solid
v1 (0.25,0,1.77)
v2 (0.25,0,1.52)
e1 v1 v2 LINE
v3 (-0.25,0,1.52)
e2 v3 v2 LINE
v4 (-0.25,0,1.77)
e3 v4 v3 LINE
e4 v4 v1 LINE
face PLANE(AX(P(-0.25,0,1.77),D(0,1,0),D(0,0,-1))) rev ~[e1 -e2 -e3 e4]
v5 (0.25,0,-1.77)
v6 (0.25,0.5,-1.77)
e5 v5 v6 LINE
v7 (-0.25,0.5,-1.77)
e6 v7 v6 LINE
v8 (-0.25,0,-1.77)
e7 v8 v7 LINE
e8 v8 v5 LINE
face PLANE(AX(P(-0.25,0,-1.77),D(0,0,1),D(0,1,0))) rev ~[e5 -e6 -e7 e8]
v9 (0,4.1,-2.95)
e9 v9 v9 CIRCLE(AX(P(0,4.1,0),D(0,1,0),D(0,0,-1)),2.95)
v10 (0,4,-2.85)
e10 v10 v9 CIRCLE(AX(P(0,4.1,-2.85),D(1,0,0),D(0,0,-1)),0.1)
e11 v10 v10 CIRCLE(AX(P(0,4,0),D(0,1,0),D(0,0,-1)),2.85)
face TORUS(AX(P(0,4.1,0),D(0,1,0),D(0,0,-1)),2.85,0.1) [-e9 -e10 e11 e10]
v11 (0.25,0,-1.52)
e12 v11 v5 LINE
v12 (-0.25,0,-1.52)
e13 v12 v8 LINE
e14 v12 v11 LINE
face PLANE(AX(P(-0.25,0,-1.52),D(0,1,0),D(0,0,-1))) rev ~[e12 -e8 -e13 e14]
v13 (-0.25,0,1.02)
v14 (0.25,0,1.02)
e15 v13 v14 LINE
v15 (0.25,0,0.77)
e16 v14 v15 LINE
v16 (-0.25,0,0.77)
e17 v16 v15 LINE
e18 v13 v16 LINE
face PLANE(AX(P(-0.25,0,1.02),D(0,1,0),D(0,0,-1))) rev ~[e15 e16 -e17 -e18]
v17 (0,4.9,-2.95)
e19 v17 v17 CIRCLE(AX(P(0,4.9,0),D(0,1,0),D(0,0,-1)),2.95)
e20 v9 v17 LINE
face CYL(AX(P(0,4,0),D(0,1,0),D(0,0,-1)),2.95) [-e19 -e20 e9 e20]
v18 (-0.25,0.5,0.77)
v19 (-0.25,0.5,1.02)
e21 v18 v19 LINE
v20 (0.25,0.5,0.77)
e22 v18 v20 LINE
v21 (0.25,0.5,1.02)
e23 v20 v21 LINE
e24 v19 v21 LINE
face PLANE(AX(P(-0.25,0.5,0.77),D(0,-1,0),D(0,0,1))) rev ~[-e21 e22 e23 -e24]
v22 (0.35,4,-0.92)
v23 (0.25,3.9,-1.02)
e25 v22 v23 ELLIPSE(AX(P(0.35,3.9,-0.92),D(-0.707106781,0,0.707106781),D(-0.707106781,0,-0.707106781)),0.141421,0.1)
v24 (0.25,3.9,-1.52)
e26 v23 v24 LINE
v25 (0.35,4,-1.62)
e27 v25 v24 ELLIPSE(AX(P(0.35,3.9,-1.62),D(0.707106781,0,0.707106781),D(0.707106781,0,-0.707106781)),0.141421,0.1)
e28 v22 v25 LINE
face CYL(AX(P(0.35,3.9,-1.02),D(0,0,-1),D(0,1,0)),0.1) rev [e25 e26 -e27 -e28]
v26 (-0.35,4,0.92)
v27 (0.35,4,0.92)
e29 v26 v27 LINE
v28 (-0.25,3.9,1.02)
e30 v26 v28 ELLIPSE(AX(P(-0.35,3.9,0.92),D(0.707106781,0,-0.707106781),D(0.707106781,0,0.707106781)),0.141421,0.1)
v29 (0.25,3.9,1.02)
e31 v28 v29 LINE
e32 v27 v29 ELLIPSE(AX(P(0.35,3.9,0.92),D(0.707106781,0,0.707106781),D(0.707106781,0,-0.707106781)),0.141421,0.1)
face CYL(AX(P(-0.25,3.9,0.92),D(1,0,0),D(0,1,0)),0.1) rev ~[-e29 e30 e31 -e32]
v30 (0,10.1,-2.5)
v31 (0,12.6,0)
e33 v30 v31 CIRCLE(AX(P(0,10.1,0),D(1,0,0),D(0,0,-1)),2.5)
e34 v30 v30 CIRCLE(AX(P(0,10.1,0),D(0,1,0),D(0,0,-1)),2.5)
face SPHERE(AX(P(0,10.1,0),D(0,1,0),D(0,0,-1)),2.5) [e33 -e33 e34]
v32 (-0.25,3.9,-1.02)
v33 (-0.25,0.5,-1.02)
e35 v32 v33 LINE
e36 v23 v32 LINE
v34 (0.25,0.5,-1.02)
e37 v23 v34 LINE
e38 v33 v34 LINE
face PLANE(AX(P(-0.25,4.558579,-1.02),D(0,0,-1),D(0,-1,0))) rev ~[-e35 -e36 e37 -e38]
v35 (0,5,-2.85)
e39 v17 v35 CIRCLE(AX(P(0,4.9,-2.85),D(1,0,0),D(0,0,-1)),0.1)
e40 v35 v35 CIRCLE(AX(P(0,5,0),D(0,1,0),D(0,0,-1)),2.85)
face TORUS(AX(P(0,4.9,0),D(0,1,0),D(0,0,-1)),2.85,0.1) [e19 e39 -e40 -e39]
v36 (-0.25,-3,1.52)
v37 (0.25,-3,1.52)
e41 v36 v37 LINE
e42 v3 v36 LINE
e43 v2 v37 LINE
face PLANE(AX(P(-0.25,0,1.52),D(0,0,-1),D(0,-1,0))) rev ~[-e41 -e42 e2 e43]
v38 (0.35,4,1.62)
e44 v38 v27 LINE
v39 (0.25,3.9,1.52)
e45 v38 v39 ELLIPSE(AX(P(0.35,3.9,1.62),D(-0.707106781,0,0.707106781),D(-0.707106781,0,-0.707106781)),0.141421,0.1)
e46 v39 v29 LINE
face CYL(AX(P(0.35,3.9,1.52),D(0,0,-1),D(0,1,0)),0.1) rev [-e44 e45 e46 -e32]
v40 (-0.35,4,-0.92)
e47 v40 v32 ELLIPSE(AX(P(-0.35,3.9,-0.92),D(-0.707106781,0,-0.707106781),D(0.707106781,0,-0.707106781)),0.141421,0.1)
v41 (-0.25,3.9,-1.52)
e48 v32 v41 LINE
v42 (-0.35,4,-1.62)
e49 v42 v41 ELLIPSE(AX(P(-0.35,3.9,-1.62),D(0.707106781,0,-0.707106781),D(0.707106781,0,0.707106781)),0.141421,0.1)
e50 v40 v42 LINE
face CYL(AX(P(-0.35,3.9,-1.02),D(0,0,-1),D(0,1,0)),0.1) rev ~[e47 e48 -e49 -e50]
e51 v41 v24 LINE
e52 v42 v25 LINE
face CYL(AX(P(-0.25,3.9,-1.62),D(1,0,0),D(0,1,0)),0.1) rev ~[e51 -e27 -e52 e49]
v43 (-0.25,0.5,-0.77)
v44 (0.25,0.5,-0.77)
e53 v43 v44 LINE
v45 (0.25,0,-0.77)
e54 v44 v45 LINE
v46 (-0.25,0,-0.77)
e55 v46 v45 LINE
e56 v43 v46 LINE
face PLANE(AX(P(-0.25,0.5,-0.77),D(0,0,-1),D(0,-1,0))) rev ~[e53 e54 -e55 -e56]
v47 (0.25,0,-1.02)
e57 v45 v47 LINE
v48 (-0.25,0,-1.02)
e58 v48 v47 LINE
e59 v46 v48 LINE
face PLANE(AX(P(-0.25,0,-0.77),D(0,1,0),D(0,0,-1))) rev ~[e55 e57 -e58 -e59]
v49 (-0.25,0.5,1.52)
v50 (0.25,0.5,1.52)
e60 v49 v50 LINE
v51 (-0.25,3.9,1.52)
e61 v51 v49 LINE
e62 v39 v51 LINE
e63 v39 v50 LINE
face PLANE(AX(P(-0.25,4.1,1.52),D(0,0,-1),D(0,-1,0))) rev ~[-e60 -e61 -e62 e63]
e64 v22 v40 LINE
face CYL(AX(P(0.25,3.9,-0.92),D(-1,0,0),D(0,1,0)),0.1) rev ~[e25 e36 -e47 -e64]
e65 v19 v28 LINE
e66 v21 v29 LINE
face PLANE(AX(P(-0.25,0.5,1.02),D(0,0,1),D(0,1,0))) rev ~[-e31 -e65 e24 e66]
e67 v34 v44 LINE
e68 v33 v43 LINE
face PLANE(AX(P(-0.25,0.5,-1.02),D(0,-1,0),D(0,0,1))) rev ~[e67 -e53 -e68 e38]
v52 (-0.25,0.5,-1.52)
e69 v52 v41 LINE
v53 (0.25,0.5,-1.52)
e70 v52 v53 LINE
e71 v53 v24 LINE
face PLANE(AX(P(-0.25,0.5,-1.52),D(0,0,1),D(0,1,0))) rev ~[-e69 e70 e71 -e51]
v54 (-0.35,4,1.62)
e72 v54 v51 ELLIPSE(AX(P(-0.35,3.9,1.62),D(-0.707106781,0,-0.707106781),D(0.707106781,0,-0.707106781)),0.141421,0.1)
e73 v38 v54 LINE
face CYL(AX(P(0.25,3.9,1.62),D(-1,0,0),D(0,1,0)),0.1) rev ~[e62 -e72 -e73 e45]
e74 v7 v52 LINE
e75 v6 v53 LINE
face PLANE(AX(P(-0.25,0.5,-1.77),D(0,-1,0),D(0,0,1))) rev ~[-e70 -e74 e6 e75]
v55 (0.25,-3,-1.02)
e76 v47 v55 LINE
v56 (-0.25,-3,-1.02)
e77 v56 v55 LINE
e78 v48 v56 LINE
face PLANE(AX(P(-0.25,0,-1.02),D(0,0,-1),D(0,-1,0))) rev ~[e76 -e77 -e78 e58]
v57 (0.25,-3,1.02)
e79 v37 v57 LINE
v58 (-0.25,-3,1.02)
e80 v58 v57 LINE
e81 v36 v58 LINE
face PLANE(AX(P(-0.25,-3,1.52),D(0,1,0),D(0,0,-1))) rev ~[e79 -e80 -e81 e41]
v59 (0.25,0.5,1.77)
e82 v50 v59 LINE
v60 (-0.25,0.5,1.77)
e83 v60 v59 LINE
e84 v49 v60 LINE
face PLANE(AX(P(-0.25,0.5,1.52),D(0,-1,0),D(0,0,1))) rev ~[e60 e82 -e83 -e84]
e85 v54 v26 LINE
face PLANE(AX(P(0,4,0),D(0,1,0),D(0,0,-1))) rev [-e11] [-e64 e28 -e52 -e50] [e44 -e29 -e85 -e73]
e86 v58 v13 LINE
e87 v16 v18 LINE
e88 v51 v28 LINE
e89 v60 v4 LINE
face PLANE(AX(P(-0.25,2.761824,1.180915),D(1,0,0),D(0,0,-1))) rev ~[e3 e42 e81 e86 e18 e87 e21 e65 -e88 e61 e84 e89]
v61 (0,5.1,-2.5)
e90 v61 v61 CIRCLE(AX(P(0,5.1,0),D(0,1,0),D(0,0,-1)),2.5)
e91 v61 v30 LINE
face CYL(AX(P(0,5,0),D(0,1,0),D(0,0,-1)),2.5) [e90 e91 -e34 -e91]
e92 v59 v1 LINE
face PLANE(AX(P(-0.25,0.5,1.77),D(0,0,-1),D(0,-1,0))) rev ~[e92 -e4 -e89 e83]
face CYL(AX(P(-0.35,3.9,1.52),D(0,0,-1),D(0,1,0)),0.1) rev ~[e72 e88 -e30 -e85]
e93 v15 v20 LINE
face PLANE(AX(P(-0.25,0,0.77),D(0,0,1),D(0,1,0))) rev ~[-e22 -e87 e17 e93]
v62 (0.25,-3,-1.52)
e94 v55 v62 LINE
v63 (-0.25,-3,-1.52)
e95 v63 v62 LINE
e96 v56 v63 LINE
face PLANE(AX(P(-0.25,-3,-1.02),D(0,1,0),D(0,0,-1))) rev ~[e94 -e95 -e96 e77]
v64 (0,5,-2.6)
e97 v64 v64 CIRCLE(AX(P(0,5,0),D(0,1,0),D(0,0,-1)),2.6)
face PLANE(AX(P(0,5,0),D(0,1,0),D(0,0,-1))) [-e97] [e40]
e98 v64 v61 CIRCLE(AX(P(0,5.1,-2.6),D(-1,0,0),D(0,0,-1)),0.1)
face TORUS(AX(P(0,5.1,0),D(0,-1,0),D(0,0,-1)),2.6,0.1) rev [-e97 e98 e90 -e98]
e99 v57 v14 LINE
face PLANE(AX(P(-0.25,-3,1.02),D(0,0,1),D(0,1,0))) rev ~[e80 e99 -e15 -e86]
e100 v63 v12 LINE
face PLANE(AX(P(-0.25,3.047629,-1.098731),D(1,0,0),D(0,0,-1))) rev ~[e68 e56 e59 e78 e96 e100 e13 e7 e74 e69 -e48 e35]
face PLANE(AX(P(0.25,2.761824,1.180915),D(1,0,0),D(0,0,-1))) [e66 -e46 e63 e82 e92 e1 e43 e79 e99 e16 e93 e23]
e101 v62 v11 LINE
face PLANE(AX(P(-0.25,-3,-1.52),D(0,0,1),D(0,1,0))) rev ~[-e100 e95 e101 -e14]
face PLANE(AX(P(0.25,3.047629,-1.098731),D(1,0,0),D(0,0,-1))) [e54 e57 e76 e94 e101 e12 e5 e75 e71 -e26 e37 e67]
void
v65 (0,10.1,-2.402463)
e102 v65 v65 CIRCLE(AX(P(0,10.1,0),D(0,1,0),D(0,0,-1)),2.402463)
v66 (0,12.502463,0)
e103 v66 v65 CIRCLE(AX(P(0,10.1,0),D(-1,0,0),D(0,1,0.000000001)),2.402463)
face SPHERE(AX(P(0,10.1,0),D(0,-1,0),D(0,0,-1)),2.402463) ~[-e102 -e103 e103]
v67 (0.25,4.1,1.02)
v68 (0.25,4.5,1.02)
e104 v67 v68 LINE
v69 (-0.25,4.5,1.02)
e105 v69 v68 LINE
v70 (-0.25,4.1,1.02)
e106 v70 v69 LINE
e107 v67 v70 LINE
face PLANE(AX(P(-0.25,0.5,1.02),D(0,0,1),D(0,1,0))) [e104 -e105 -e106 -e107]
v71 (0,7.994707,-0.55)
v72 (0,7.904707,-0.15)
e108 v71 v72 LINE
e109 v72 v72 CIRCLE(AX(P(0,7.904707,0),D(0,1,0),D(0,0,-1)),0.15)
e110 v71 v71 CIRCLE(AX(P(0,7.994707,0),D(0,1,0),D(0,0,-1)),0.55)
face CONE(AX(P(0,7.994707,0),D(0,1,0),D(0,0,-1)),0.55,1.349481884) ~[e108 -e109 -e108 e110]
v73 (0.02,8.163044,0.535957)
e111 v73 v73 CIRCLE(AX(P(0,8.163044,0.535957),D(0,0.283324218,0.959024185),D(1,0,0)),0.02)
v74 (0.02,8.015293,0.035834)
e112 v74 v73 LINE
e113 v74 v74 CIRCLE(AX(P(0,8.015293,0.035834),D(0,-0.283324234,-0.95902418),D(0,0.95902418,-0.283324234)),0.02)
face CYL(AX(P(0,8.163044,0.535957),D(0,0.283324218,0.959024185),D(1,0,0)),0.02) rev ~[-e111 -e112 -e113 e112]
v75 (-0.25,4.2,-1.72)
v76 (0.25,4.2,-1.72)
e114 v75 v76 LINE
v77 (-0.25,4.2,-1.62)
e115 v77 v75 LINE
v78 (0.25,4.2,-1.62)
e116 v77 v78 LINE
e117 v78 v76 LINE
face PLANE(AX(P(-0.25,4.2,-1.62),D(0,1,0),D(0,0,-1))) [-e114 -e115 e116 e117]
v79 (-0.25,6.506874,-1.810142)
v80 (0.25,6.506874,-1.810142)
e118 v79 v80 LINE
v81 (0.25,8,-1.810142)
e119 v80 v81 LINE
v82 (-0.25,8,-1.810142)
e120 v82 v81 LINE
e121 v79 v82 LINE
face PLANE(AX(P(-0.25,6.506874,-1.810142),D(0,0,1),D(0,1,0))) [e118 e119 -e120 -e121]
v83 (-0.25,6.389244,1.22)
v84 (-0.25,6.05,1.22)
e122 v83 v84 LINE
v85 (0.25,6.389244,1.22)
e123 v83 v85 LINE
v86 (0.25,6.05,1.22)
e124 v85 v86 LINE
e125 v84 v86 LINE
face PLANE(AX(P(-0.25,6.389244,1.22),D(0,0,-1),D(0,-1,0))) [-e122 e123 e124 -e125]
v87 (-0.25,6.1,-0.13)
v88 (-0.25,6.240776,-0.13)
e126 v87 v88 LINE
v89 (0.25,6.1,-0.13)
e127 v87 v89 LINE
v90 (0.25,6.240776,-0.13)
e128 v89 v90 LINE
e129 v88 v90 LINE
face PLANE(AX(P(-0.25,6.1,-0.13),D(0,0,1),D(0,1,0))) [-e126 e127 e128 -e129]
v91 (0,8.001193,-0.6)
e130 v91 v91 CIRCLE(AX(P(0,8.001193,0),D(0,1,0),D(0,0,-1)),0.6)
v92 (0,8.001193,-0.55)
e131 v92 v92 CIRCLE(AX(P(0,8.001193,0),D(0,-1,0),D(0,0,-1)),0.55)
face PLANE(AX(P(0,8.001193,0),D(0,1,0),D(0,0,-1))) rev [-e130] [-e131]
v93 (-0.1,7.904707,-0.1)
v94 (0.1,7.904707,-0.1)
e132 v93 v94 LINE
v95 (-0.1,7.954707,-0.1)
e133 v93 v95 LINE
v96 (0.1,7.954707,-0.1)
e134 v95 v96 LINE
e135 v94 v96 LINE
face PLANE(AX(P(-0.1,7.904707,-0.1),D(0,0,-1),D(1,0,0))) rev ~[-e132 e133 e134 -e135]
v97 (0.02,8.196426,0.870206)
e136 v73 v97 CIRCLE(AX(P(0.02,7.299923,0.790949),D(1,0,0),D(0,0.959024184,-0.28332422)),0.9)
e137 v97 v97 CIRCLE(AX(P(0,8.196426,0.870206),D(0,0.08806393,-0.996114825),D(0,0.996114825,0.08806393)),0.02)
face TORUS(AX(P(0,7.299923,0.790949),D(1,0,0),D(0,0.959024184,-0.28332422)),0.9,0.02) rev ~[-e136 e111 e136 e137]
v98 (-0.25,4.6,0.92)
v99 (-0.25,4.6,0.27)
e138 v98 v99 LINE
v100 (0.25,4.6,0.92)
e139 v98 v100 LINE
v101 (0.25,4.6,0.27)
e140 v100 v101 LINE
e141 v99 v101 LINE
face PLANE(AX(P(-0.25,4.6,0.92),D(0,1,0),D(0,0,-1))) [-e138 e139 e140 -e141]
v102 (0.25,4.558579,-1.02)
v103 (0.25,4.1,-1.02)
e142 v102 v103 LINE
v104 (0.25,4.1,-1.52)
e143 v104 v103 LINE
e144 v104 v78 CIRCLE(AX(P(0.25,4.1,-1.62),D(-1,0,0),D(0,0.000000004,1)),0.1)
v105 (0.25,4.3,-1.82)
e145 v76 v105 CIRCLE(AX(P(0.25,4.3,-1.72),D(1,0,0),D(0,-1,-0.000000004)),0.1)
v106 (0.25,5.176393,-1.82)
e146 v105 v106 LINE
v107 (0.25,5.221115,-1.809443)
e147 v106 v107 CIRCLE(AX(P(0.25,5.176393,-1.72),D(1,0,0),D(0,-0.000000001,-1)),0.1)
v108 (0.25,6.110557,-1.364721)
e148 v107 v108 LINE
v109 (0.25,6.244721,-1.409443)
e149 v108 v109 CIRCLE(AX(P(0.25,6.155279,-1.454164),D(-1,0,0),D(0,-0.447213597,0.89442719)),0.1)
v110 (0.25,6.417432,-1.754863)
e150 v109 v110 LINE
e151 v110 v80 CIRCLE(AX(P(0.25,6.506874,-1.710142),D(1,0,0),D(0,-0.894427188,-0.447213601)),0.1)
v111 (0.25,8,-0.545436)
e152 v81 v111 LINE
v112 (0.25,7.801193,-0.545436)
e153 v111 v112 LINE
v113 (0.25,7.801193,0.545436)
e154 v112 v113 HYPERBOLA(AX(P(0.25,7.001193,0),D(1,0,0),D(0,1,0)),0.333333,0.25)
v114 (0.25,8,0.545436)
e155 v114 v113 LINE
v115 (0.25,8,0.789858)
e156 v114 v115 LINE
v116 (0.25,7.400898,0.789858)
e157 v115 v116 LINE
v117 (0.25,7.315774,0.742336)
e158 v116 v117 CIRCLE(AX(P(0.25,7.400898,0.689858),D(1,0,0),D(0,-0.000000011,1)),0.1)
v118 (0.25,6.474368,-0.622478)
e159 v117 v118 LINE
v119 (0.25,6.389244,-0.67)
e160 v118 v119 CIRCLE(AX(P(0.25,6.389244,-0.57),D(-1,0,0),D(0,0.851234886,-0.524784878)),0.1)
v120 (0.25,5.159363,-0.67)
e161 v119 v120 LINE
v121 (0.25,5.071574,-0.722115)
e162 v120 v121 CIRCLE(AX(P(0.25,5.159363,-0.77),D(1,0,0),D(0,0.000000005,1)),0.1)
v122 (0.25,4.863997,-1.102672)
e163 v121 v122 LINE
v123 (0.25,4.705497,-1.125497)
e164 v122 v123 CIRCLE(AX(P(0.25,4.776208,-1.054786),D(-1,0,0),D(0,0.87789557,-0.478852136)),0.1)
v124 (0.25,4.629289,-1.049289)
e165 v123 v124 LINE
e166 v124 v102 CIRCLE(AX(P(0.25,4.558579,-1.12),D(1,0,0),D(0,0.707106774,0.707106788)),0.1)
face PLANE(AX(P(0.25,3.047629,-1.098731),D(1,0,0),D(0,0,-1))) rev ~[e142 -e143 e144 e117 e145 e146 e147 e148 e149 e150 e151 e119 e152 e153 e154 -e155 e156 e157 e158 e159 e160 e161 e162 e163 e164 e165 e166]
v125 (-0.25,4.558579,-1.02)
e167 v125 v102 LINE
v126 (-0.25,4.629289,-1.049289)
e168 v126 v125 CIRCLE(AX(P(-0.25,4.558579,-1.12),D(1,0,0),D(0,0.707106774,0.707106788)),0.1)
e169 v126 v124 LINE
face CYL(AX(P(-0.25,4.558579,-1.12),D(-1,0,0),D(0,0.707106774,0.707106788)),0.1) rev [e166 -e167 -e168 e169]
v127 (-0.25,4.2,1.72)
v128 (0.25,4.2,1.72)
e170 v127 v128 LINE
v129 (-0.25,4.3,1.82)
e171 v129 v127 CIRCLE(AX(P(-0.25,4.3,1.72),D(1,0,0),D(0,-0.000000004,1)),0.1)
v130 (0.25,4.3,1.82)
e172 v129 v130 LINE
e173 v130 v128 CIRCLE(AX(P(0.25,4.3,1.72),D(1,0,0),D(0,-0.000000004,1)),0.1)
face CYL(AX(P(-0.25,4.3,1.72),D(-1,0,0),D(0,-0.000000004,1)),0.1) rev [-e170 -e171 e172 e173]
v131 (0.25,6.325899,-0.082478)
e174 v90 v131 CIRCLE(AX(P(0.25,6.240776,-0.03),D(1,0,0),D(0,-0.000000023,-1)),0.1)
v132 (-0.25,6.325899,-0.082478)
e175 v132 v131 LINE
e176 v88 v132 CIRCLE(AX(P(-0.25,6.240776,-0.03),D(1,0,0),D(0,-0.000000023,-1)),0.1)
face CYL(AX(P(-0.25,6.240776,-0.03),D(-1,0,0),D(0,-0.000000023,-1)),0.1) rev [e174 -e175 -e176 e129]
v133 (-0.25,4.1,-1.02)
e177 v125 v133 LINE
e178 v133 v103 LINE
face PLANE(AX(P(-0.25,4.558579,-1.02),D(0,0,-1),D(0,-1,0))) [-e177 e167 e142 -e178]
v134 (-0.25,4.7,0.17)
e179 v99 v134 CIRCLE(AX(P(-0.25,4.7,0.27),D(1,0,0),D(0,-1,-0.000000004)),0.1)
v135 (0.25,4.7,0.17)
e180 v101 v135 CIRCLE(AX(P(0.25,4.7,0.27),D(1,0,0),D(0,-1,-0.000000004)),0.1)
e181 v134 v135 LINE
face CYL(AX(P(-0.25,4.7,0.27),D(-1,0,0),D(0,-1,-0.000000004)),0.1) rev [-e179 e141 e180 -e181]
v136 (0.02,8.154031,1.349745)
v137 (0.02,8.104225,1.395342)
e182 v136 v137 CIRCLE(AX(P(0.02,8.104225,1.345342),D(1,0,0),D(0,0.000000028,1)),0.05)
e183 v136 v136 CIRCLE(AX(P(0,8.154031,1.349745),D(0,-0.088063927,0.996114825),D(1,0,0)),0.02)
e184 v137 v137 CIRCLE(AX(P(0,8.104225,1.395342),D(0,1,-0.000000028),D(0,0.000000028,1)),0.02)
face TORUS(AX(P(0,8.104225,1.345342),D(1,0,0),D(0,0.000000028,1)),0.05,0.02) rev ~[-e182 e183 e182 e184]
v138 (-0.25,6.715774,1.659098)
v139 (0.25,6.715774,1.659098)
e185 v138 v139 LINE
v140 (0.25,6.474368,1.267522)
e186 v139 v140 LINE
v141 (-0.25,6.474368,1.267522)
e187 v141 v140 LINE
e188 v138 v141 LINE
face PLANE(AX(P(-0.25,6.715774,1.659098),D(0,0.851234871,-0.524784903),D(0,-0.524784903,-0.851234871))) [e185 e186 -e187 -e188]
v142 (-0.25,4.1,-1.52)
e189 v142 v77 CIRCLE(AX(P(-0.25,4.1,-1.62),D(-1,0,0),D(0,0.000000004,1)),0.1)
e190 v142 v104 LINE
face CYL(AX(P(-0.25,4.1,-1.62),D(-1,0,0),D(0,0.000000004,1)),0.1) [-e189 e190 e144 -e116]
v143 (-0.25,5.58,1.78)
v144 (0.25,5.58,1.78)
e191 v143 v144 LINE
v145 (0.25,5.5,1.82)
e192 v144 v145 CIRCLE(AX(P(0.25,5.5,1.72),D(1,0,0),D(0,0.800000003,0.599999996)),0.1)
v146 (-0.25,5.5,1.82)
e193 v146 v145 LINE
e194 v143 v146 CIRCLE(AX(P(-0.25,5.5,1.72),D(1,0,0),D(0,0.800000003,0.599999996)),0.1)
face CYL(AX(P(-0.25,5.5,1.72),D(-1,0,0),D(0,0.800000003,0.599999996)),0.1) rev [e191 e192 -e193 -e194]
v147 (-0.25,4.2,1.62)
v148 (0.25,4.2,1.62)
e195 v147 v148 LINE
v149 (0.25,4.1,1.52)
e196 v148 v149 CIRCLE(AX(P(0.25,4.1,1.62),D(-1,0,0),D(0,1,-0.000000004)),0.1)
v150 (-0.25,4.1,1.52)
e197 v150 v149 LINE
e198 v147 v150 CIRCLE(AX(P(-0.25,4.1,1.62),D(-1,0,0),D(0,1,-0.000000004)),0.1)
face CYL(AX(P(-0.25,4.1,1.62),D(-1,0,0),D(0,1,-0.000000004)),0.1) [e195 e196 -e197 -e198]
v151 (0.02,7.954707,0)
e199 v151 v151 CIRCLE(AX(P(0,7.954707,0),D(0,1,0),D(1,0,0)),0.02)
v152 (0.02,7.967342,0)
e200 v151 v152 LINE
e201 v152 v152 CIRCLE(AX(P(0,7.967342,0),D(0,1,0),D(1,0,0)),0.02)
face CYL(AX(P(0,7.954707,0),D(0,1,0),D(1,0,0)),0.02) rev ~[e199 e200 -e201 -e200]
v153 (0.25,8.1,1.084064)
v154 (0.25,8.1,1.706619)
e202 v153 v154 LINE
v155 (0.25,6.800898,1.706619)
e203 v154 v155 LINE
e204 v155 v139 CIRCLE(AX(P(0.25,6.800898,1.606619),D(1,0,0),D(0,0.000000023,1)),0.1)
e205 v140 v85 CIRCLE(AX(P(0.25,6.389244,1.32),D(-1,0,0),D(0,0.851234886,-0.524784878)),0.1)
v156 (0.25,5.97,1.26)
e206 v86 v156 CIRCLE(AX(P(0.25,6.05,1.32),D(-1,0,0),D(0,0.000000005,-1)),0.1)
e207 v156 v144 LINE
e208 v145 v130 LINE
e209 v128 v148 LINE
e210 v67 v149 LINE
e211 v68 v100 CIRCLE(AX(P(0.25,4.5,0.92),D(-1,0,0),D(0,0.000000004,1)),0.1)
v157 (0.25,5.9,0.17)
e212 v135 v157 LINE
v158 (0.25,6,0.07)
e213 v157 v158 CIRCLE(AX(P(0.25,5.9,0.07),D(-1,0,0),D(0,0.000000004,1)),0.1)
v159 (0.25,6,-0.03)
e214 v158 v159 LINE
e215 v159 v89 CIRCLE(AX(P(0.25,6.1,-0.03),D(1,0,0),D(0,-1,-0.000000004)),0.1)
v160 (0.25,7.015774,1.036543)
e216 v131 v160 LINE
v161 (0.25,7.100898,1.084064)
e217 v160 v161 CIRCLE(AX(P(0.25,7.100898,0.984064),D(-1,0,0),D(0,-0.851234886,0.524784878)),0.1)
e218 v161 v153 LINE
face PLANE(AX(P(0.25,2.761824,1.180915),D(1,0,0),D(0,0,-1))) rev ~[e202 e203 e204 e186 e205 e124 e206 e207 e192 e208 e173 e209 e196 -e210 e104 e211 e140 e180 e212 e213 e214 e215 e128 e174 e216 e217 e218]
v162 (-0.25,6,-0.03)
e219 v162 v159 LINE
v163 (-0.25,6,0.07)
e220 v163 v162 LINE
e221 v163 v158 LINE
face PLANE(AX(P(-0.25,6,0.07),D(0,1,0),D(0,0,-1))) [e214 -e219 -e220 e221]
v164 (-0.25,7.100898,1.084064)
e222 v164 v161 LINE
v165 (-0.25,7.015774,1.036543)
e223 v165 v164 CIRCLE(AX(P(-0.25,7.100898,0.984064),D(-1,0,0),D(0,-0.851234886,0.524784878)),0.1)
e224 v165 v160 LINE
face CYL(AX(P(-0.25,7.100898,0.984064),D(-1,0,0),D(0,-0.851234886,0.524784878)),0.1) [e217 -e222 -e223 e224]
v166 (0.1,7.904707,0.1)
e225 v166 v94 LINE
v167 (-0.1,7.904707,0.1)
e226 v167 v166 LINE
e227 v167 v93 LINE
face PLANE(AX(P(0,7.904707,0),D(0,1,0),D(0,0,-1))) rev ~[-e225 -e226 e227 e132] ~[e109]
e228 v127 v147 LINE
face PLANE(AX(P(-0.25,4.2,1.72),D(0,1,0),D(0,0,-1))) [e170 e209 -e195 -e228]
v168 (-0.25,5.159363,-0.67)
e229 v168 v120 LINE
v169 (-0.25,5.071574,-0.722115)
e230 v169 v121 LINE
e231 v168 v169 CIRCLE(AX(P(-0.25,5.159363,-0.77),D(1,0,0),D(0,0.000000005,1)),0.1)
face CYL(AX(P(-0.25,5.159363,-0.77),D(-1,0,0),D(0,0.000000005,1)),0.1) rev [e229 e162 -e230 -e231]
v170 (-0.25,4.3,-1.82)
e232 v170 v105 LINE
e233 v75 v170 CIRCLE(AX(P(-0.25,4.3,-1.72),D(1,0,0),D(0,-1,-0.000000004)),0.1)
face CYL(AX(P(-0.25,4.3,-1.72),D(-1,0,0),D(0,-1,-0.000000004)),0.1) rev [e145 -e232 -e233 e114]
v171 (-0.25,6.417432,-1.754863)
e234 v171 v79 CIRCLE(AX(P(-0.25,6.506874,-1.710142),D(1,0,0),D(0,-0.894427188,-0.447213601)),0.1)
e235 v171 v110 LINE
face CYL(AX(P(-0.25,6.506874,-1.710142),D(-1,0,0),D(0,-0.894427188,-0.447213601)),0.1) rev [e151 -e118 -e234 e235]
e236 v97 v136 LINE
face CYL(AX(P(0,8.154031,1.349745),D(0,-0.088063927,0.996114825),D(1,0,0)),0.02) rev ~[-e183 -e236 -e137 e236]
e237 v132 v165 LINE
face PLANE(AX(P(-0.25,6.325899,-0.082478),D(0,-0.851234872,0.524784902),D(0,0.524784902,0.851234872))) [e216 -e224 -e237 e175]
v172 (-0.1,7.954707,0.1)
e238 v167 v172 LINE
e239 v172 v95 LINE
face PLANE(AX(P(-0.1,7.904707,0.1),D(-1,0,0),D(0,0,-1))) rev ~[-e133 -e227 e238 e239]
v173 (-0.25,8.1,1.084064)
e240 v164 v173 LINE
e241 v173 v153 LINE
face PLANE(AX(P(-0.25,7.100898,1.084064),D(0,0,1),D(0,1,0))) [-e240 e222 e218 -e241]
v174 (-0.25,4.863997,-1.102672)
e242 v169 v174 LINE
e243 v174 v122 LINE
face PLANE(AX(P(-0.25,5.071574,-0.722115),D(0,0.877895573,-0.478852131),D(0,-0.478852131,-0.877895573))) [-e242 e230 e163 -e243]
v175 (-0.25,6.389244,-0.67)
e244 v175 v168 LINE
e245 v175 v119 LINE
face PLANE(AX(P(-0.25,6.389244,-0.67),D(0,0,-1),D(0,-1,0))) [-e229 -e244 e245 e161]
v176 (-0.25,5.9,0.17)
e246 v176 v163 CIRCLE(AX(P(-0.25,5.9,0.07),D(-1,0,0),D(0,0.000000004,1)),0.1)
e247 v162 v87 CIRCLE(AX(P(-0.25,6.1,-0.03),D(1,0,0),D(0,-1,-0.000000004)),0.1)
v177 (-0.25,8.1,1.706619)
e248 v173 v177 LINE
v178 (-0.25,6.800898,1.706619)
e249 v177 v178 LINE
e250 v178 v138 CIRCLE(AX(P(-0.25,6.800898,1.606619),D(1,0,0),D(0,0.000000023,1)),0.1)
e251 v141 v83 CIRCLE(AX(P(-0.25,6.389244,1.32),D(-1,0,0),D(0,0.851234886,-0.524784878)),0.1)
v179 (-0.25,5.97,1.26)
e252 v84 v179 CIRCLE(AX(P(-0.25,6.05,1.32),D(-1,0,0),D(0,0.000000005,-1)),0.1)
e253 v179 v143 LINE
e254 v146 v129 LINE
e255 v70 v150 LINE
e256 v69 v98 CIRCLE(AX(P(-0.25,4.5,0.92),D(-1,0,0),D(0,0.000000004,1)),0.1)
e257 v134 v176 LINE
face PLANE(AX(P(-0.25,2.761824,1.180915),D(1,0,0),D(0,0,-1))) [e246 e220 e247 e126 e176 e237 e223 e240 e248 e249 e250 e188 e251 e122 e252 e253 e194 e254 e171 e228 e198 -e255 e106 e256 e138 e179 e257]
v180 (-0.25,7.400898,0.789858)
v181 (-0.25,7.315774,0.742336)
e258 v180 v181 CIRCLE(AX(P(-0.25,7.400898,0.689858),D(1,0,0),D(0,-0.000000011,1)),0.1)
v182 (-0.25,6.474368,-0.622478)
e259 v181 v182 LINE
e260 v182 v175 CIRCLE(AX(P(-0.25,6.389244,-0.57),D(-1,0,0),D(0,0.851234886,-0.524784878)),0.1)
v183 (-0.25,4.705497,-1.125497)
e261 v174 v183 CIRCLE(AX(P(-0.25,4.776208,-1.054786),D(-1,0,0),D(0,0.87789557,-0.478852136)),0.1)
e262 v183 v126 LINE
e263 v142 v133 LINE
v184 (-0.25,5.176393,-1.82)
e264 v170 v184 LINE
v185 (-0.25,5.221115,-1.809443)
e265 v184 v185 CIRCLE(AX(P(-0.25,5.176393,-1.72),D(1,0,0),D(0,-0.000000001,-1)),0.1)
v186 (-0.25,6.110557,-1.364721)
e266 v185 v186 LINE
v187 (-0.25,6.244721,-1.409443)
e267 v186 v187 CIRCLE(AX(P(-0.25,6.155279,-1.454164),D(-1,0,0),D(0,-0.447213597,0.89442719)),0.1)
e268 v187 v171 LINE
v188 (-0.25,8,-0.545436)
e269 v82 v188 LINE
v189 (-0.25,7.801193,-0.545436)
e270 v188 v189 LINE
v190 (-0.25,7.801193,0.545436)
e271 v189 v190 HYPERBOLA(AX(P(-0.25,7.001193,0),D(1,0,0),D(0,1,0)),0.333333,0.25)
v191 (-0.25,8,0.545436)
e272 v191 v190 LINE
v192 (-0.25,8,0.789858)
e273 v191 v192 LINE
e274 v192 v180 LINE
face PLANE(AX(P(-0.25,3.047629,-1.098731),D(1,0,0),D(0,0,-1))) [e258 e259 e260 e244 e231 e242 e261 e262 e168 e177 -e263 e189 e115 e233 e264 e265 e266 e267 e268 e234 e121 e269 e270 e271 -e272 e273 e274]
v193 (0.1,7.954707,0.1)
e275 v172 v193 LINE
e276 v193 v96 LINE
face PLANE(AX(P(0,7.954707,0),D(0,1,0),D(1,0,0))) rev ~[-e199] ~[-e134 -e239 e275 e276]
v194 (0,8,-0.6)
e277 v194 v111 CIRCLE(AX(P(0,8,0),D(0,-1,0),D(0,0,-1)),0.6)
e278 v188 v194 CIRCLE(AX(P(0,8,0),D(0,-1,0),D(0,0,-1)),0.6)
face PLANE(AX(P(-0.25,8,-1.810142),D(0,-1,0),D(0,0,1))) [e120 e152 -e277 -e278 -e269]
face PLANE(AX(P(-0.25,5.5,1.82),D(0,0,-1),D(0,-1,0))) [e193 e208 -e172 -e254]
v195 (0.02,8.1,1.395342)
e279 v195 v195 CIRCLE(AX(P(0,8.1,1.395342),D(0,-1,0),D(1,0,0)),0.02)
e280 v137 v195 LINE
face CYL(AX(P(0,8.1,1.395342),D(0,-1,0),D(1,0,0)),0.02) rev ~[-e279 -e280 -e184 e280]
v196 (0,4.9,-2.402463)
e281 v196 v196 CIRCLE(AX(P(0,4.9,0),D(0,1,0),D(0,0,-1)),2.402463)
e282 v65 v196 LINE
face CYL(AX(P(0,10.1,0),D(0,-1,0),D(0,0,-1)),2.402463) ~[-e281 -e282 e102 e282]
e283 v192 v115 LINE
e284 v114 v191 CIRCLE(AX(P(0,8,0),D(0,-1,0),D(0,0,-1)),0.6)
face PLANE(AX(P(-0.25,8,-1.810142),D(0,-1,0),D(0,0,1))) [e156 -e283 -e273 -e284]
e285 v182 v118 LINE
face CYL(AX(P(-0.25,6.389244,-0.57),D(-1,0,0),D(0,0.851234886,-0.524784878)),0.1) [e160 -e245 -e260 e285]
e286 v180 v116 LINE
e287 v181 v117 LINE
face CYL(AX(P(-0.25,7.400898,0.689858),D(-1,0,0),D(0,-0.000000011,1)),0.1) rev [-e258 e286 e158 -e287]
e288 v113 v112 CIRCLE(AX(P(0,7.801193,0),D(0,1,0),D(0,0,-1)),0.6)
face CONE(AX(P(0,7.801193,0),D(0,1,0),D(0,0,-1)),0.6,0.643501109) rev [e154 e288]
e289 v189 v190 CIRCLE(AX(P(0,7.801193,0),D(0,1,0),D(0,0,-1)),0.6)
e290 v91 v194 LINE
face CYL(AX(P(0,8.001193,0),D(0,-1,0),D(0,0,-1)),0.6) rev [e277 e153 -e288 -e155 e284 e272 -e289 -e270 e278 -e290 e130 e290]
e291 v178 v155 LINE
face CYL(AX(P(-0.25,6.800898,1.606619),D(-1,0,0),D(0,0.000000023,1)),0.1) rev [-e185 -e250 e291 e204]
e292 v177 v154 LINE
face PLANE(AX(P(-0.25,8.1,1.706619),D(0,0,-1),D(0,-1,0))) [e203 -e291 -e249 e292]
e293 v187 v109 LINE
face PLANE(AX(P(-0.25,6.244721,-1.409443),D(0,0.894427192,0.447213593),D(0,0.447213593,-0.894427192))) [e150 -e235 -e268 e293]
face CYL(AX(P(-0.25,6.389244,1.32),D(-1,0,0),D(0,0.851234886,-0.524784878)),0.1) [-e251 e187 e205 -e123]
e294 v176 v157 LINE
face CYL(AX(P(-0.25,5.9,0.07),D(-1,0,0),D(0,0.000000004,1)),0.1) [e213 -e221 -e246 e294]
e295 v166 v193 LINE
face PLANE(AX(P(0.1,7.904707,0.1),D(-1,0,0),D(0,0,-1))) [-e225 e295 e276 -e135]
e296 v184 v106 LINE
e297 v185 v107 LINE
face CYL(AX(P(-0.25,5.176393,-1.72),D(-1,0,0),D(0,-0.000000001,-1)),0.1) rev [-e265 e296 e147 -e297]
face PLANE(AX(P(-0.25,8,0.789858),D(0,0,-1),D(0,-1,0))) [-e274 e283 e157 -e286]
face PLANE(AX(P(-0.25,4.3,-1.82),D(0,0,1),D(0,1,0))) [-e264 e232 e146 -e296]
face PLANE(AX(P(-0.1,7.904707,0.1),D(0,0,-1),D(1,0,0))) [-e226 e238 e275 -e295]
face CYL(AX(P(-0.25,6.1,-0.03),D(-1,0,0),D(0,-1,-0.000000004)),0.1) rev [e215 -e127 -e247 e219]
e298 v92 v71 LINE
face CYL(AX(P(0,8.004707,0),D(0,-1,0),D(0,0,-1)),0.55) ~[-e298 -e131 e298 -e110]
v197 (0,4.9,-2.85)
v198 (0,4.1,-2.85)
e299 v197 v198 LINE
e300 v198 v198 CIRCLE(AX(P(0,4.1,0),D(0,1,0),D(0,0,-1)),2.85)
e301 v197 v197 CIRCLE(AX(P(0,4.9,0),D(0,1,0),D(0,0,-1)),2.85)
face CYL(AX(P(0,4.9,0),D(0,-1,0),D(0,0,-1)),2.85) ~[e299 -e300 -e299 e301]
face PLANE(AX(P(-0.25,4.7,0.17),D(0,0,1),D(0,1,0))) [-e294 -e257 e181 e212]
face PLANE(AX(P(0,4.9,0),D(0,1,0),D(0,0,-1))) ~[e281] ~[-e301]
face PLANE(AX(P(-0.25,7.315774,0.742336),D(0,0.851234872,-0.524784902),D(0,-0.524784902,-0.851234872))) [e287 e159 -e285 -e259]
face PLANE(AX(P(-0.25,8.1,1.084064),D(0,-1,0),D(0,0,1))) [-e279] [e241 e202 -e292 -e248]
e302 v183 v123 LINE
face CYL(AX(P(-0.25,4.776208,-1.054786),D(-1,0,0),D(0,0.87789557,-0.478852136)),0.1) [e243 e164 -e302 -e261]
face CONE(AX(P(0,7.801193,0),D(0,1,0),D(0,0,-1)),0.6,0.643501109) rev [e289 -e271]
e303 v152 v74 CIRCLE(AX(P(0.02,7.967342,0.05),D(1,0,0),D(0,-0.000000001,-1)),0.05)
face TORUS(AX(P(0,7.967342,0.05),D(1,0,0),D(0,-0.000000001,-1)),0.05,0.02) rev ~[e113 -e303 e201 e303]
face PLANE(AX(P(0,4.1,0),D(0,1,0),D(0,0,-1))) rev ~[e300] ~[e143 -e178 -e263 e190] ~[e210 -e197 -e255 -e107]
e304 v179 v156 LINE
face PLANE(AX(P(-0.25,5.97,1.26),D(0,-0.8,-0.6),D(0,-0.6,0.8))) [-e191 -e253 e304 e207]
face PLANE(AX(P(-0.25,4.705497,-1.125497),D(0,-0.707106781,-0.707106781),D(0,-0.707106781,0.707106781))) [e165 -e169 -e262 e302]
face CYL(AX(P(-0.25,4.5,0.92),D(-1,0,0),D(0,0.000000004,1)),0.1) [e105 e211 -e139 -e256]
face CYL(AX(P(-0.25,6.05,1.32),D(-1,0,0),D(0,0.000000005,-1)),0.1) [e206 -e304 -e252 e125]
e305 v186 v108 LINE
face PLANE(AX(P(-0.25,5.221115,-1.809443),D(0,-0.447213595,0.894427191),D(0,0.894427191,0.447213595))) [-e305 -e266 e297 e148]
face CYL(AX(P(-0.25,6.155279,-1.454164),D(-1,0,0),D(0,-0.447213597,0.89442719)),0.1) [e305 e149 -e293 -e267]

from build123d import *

# Parameters (mm, degrees)
EXTRUDE_1_DEPTH        = 0.25
EXTRUDE_1_DEPTH_BACK   = 0.25
EXTRUDE_1_2_DEPTH      = 0.25
EXTRUDE_1_2_DEPTH_BACK = 0.25
SKETCH_4_W             = 0.2
SKETCH_4_H             = 0.2
EXTRUDE_2_DEPTH        = 0.05
SKETCH_6_R             = 0.02
FILLET_1_R             = 0.1
FILLET_2_R             = 0.1


with BuildPart() as part:
    # Эскиз1 → Бобышка-Вытянуть1 (new, two sides: drawn at the far end of the back side and taken through both)
    with BuildSketch(Plane(origin=(0, 0, 0), x_dir=(0, 0, -1), z_dir=(1, 0, 0)).offset(-EXTRUDE_1_DEPTH_BACK)):
        with BuildLine():
            Line((-1.52, 4), (-1.52, 0.5))
            Line((-1.52, 0.5), (-1.77, 0.5))
            Line((-1.77, 0.5), (-1.77, 0))
            Line((-1.77, 0), (-1.52, 0))
            Line((-1.52, 0), (-1.52, -3))
            Line((-1.52, -3), (-1.02, -3))
            Line((-1.02, -3), (-1.02, 0))
            Line((-1.02, 0), (-0.77, 0))
            Line((-0.77, 0), (-0.77, 0.5))
            Line((-0.77, 0.5), (-1.02, 0.5))
            Line((-1.02, 0.5), (-1.02, 4))
            Line((-1.02, 4), (-1.02, 4.5))
            ThreePointArc((-1.02, 4.5), (-0.990710678, 4.570710678), (-0.92, 4.6))
            Line((-0.92, 4.6), (-0.27, 4.6))
            ThreePointArc((-0.27, 4.6), (-0.199289322, 4.629289322), (-0.17, 4.7))
            Line((-0.17, 4.7), (-0.17, 5.9))
            ThreePointArc((-0.17, 5.9), (-0.140710678, 5.970710678), (-0.07, 6))
            Line((-0.07, 6), (0.03, 6))
            ThreePointArc((0.03, 6), (0.100710678, 6.029289322), (0.13, 6.1))
            Line((0.13, 6.1), (0.13, 6.240775729))
            ThreePointArc((0.13, 6.240775729), (0.117315088, 6.289520734), (0.08247849, 6.325899216))
            Line((0.08247849, 6.325899216), (-1.036542981, 7.015774117))
            ThreePointArc((-1.036542981, 7.015774117), (-1.071379579, 7.052152599), (-1.084064491, 7.100897604))
            Line((-1.084064491, 7.100897604), (-1.084064491, 8.1))
            Line((-1.084064491, 8.1), (-1.7066193, 8.1))
            Line((-1.7066193, 8.1), (-1.7066193, 6.800897604))
            ThreePointArc((-1.7066193, 6.800897604), (-1.693934388, 6.752152599), (-1.65909779, 6.715774117))
            Line((-1.65909779, 6.715774117), (-1.26752151, 6.474367982))
            ThreePointArc((-1.26752151, 6.474367982), (-1.232684912, 6.4379895), (-1.22, 6.389244495))
            Line((-1.22, 6.389244495), (-1.22, 6.05))
            ThreePointArc((-1.22, 6.05), (-1.230557281, 6.00527864), (-1.26, 5.97))
            Line((-1.26, 5.97), (-1.78, 5.58))
            ThreePointArc((-1.78, 5.58), (-1.809442719, 5.54472136), (-1.82, 5.5))
            Line((-1.82, 5.5), (-1.82, 4.3))
            ThreePointArc((-1.82, 4.3), (-1.790710678, 4.229289322), (-1.72, 4.2))
            Line((-1.72, 4.2), (-1.62, 4.2))
            ThreePointArc((-1.62, 4.2), (-1.549289322, 4.170710678), (-1.52, 4.1))
            Line((-1.52, 4.1), (-1.52, 4))
        make_face()
    extrude(amount=EXTRUDE_1_DEPTH + EXTRUDE_1_DEPTH_BACK)



with BuildPart() as body_2:
    # Эскиз1 → Extrude 1 2 (new, two sides: drawn at the far end of the back side and taken through both)
    with BuildSketch(Plane(origin=(0, 0, 0), x_dir=(0, 0, -1), z_dir=(1, 0, 0)).offset(-EXTRUDE_1_2_DEPTH_BACK)):
        with BuildLine():
            Line((1.02, 4), (1.02, 0.5))
            Line((1.02, 0.5), (0.77, 0.5))
            Line((0.77, 0.5), (0.77, 0))
            Line((0.77, 0), (1.02, 0))
            Line((1.02, 0), (1.02, -3))
            Line((1.02, -3), (1.52, -3))
            Line((1.52, -3), (1.52, 0))
            Line((1.52, 0), (1.77, 0))
            Line((1.77, 0), (1.77, 0.5))
            Line((1.77, 0.5), (1.52, 0.5))
            Line((1.52, 0.5), (1.52, 4))
            Line((1.52, 4), (1.52, 4.1))
            ThreePointArc((1.52, 4.1), (1.549289322, 4.170710678), (1.62, 4.2))
            Line((1.62, 4.2), (1.72, 4.2))
            ThreePointArc((1.72, 4.2), (1.790710678, 4.229289322), (1.82, 4.3))
            Line((1.82, 4.3), (1.82, 5.176393202))
            ThreePointArc((1.82, 5.176393202), (1.817324899, 5.199368494), (1.809442719, 5.221114562))
            Line((1.809442719, 5.221114562), (1.36472136, 6.110557281))
            ThreePointArc((1.36472136, 6.110557281), (1.359295749, 6.186901417), (1.409442719, 6.24472136))
            Line((1.409442719, 6.24472136), (1.754863459, 6.417431729))
            ThreePointArc((1.754863459, 6.417431729), (1.79520718, 6.454301337), (1.810142099, 6.506874449))
            Line((1.810142099, 6.506874449), (1.810142099, 8))
            Line((1.810142099, 8), (-0.789857901, 8))
            Line((-0.789857901, 8), (-0.789857901, 7.400897604))
            ThreePointArc((-0.789857901, 7.400897604), (-0.777172988, 7.352152599), (-0.742336391, 7.315774117))
            Line((-0.742336391, 7.315774117), (0.62247849, 6.474367982))
            ThreePointArc((0.62247849, 6.474367982), (0.657315088, 6.4379895), (0.67, 6.389244495))
            Line((0.67, 6.389244495), (0.67, 5.15936331))
            ThreePointArc((0.67, 5.15936331), (0.684010113, 5.108316867), (0.722114787, 5.071573753))
            Line((0.722114787, 5.071573753), (1.102671606, 4.863997306))
            ThreePointArc((1.102671606, 4.863997306), (1.153765317, 4.790461608), (1.125497071, 4.705497071))
            Line((1.125497071, 4.705497071), (1.049289322, 4.629289322))
            ThreePointArc((1.049289322, 4.629289322), (1.027612047, 4.596846987), (1.02, 4.558578644))
            Line((1.02, 4.558578644), (1.02, 4))
        make_face()
    extrude(amount=EXTRUDE_1_2_DEPTH + EXTRUDE_1_2_DEPTH_BACK)

    # Эскиз2 → Повернуть2 (revolve)
    with BuildSketch(Plane(origin=(0, 0, 0), x_dir=(0, 0, -1), z_dir=(1, 0, 0))):
        Polygon((0, 8.001193103), (-0.6, 8.001193103), (-0.6, 7.801193103), (0, 7.001193103), align=None)
    revolve(axis=Axis((0, 0, 0), (0, 1, 0)))

    # Эскиз3 → Вырез-Повернуть1 (revolve, cut)
    with BuildSketch(Plane(origin=(0, 0, 0), x_dir=(0, 0, -1), z_dir=(1, 0, 0))):
        Polygon((0, 8.00470677), (0.55, 8.00470677), (0.55, 7.99470677), (0.15, 7.90470677), (0, 7.90470677), align=None)
    revolve(axis=Axis((0, -8.975718179, 0), (0, 1, 0)), mode=Mode.SUBTRACT)

    # Эскиз4 → Бобышка-Вытянуть2 (add)
    with BuildSketch(Plane(origin=(0, 7.90470677, 0), x_dir=(1, 0, 0), z_dir=(0, 1, 0))):
        Rectangle(SKETCH_4_W, SKETCH_4_H)
    extrude(amount=EXTRUDE_2_DEPTH)


with BuildPart() as part_1:
    add(part.part)

    add(body_2.part)  # По траектории1 merges body 2
    # По траектории1: sweep along a curve in space
    with BuildLine() as sweep_1_path:
        Line((0, 7.95470677, 0), (0, 7.967341926, 0))
        ThreePointArc((0, 7.967341926, 0), (0, 7.997272592, 0.009948093), (0, 8.015293136, 0.035833789))
        Line((0, 8.163044316, 0.535956778), (0, 8.015293136, 0.035833789))
        ThreePointArc((0, 8.163044316, 0.535956778), (0, 8.195467515, 0.701510243), (0, 8.196425892, 0.870206109))
        Line((0, 8.154031095, 1.349745092), (0, 8.196425892, 0.870206109))
        ThreePointArc((0, 8.104225354, 1.395341896), (0, 8.137988056, 1.382221157), (0, 8.154031095, 1.349745092))
        Line((0, 8.1, 1.395341896), (0, 8.104225354, 1.395341896))
    # Эскиз6 → По траектории1 (sweep)
    with BuildSketch(Plane(origin=(0, 7.95470677, 0), x_dir=(1, 0, 0), z_dir=(0, 1, 0))):
        Circle(SKETCH_6_R)
    sweep(path=sweep_1_path.line)

    # Эскиз7 → Повернуть3 (revolve)
    with BuildSketch(Plane(origin=(0, 0, 0), x_dir=(0, 0, -1), z_dir=(1, 0, 0))):
        with BuildLine():
            Line((0, 4), (2.95, 4))
            Line((2.95, 4), (2.95, 5))
            Line((2.95, 5), (2.5, 5))
            Line((2.5, 5), (2.5, 10.1))
            ThreePointArc((2.5, 10.1), (1.767766953, 11.867766953), (0, 12.6))
            Line((0, 12.6), (0, 12.502462568))
            ThreePointArc((0, 12.502462568), (1.698797574, 11.798797574), (2.402462568, 10.1))
            Line((2.402462568, 10.1), (2.402462568, 4.9))
            Line((2.402462568, 4.9), (2.85, 4.9))
            Line((2.85, 4.9), (2.85, 4.1))
            Line((2.85, 4.1), (0, 4.1))
            Line((0, 4.1), (0, 4))
        make_face()
    revolve(axis=Axis((0, 0, 0), (0, 1, 0)))

    # Скругление1
    fillet_1_edges = [part_1.edges().sort_by_distance(p)[0] for p in [
        (0, 5, 2.5),
        (0, 4, 2.95),
        (0, 5, 2.95),
    ]]
    fillet(fillet_1_edges, radius=FILLET_1_R)

    # Скругление2
    fillet_2_edges = [part_1.edges().sort_by_distance(p)[0] for p in [
        (0, 4, 1.02),
        (0, 4, 1.52),
        (0.25, 4, 1.27),
        (-0.25, 4, 1.27),
        (0, 4, -1.52),
        (-0.25, 4, -1.27),
        (0, 4, -1.02),
        (0.25, 4, -1.27),
    ]]
    fillet(fillet_2_edges, radius=FILLET_2_R)


solid = part_1.part
